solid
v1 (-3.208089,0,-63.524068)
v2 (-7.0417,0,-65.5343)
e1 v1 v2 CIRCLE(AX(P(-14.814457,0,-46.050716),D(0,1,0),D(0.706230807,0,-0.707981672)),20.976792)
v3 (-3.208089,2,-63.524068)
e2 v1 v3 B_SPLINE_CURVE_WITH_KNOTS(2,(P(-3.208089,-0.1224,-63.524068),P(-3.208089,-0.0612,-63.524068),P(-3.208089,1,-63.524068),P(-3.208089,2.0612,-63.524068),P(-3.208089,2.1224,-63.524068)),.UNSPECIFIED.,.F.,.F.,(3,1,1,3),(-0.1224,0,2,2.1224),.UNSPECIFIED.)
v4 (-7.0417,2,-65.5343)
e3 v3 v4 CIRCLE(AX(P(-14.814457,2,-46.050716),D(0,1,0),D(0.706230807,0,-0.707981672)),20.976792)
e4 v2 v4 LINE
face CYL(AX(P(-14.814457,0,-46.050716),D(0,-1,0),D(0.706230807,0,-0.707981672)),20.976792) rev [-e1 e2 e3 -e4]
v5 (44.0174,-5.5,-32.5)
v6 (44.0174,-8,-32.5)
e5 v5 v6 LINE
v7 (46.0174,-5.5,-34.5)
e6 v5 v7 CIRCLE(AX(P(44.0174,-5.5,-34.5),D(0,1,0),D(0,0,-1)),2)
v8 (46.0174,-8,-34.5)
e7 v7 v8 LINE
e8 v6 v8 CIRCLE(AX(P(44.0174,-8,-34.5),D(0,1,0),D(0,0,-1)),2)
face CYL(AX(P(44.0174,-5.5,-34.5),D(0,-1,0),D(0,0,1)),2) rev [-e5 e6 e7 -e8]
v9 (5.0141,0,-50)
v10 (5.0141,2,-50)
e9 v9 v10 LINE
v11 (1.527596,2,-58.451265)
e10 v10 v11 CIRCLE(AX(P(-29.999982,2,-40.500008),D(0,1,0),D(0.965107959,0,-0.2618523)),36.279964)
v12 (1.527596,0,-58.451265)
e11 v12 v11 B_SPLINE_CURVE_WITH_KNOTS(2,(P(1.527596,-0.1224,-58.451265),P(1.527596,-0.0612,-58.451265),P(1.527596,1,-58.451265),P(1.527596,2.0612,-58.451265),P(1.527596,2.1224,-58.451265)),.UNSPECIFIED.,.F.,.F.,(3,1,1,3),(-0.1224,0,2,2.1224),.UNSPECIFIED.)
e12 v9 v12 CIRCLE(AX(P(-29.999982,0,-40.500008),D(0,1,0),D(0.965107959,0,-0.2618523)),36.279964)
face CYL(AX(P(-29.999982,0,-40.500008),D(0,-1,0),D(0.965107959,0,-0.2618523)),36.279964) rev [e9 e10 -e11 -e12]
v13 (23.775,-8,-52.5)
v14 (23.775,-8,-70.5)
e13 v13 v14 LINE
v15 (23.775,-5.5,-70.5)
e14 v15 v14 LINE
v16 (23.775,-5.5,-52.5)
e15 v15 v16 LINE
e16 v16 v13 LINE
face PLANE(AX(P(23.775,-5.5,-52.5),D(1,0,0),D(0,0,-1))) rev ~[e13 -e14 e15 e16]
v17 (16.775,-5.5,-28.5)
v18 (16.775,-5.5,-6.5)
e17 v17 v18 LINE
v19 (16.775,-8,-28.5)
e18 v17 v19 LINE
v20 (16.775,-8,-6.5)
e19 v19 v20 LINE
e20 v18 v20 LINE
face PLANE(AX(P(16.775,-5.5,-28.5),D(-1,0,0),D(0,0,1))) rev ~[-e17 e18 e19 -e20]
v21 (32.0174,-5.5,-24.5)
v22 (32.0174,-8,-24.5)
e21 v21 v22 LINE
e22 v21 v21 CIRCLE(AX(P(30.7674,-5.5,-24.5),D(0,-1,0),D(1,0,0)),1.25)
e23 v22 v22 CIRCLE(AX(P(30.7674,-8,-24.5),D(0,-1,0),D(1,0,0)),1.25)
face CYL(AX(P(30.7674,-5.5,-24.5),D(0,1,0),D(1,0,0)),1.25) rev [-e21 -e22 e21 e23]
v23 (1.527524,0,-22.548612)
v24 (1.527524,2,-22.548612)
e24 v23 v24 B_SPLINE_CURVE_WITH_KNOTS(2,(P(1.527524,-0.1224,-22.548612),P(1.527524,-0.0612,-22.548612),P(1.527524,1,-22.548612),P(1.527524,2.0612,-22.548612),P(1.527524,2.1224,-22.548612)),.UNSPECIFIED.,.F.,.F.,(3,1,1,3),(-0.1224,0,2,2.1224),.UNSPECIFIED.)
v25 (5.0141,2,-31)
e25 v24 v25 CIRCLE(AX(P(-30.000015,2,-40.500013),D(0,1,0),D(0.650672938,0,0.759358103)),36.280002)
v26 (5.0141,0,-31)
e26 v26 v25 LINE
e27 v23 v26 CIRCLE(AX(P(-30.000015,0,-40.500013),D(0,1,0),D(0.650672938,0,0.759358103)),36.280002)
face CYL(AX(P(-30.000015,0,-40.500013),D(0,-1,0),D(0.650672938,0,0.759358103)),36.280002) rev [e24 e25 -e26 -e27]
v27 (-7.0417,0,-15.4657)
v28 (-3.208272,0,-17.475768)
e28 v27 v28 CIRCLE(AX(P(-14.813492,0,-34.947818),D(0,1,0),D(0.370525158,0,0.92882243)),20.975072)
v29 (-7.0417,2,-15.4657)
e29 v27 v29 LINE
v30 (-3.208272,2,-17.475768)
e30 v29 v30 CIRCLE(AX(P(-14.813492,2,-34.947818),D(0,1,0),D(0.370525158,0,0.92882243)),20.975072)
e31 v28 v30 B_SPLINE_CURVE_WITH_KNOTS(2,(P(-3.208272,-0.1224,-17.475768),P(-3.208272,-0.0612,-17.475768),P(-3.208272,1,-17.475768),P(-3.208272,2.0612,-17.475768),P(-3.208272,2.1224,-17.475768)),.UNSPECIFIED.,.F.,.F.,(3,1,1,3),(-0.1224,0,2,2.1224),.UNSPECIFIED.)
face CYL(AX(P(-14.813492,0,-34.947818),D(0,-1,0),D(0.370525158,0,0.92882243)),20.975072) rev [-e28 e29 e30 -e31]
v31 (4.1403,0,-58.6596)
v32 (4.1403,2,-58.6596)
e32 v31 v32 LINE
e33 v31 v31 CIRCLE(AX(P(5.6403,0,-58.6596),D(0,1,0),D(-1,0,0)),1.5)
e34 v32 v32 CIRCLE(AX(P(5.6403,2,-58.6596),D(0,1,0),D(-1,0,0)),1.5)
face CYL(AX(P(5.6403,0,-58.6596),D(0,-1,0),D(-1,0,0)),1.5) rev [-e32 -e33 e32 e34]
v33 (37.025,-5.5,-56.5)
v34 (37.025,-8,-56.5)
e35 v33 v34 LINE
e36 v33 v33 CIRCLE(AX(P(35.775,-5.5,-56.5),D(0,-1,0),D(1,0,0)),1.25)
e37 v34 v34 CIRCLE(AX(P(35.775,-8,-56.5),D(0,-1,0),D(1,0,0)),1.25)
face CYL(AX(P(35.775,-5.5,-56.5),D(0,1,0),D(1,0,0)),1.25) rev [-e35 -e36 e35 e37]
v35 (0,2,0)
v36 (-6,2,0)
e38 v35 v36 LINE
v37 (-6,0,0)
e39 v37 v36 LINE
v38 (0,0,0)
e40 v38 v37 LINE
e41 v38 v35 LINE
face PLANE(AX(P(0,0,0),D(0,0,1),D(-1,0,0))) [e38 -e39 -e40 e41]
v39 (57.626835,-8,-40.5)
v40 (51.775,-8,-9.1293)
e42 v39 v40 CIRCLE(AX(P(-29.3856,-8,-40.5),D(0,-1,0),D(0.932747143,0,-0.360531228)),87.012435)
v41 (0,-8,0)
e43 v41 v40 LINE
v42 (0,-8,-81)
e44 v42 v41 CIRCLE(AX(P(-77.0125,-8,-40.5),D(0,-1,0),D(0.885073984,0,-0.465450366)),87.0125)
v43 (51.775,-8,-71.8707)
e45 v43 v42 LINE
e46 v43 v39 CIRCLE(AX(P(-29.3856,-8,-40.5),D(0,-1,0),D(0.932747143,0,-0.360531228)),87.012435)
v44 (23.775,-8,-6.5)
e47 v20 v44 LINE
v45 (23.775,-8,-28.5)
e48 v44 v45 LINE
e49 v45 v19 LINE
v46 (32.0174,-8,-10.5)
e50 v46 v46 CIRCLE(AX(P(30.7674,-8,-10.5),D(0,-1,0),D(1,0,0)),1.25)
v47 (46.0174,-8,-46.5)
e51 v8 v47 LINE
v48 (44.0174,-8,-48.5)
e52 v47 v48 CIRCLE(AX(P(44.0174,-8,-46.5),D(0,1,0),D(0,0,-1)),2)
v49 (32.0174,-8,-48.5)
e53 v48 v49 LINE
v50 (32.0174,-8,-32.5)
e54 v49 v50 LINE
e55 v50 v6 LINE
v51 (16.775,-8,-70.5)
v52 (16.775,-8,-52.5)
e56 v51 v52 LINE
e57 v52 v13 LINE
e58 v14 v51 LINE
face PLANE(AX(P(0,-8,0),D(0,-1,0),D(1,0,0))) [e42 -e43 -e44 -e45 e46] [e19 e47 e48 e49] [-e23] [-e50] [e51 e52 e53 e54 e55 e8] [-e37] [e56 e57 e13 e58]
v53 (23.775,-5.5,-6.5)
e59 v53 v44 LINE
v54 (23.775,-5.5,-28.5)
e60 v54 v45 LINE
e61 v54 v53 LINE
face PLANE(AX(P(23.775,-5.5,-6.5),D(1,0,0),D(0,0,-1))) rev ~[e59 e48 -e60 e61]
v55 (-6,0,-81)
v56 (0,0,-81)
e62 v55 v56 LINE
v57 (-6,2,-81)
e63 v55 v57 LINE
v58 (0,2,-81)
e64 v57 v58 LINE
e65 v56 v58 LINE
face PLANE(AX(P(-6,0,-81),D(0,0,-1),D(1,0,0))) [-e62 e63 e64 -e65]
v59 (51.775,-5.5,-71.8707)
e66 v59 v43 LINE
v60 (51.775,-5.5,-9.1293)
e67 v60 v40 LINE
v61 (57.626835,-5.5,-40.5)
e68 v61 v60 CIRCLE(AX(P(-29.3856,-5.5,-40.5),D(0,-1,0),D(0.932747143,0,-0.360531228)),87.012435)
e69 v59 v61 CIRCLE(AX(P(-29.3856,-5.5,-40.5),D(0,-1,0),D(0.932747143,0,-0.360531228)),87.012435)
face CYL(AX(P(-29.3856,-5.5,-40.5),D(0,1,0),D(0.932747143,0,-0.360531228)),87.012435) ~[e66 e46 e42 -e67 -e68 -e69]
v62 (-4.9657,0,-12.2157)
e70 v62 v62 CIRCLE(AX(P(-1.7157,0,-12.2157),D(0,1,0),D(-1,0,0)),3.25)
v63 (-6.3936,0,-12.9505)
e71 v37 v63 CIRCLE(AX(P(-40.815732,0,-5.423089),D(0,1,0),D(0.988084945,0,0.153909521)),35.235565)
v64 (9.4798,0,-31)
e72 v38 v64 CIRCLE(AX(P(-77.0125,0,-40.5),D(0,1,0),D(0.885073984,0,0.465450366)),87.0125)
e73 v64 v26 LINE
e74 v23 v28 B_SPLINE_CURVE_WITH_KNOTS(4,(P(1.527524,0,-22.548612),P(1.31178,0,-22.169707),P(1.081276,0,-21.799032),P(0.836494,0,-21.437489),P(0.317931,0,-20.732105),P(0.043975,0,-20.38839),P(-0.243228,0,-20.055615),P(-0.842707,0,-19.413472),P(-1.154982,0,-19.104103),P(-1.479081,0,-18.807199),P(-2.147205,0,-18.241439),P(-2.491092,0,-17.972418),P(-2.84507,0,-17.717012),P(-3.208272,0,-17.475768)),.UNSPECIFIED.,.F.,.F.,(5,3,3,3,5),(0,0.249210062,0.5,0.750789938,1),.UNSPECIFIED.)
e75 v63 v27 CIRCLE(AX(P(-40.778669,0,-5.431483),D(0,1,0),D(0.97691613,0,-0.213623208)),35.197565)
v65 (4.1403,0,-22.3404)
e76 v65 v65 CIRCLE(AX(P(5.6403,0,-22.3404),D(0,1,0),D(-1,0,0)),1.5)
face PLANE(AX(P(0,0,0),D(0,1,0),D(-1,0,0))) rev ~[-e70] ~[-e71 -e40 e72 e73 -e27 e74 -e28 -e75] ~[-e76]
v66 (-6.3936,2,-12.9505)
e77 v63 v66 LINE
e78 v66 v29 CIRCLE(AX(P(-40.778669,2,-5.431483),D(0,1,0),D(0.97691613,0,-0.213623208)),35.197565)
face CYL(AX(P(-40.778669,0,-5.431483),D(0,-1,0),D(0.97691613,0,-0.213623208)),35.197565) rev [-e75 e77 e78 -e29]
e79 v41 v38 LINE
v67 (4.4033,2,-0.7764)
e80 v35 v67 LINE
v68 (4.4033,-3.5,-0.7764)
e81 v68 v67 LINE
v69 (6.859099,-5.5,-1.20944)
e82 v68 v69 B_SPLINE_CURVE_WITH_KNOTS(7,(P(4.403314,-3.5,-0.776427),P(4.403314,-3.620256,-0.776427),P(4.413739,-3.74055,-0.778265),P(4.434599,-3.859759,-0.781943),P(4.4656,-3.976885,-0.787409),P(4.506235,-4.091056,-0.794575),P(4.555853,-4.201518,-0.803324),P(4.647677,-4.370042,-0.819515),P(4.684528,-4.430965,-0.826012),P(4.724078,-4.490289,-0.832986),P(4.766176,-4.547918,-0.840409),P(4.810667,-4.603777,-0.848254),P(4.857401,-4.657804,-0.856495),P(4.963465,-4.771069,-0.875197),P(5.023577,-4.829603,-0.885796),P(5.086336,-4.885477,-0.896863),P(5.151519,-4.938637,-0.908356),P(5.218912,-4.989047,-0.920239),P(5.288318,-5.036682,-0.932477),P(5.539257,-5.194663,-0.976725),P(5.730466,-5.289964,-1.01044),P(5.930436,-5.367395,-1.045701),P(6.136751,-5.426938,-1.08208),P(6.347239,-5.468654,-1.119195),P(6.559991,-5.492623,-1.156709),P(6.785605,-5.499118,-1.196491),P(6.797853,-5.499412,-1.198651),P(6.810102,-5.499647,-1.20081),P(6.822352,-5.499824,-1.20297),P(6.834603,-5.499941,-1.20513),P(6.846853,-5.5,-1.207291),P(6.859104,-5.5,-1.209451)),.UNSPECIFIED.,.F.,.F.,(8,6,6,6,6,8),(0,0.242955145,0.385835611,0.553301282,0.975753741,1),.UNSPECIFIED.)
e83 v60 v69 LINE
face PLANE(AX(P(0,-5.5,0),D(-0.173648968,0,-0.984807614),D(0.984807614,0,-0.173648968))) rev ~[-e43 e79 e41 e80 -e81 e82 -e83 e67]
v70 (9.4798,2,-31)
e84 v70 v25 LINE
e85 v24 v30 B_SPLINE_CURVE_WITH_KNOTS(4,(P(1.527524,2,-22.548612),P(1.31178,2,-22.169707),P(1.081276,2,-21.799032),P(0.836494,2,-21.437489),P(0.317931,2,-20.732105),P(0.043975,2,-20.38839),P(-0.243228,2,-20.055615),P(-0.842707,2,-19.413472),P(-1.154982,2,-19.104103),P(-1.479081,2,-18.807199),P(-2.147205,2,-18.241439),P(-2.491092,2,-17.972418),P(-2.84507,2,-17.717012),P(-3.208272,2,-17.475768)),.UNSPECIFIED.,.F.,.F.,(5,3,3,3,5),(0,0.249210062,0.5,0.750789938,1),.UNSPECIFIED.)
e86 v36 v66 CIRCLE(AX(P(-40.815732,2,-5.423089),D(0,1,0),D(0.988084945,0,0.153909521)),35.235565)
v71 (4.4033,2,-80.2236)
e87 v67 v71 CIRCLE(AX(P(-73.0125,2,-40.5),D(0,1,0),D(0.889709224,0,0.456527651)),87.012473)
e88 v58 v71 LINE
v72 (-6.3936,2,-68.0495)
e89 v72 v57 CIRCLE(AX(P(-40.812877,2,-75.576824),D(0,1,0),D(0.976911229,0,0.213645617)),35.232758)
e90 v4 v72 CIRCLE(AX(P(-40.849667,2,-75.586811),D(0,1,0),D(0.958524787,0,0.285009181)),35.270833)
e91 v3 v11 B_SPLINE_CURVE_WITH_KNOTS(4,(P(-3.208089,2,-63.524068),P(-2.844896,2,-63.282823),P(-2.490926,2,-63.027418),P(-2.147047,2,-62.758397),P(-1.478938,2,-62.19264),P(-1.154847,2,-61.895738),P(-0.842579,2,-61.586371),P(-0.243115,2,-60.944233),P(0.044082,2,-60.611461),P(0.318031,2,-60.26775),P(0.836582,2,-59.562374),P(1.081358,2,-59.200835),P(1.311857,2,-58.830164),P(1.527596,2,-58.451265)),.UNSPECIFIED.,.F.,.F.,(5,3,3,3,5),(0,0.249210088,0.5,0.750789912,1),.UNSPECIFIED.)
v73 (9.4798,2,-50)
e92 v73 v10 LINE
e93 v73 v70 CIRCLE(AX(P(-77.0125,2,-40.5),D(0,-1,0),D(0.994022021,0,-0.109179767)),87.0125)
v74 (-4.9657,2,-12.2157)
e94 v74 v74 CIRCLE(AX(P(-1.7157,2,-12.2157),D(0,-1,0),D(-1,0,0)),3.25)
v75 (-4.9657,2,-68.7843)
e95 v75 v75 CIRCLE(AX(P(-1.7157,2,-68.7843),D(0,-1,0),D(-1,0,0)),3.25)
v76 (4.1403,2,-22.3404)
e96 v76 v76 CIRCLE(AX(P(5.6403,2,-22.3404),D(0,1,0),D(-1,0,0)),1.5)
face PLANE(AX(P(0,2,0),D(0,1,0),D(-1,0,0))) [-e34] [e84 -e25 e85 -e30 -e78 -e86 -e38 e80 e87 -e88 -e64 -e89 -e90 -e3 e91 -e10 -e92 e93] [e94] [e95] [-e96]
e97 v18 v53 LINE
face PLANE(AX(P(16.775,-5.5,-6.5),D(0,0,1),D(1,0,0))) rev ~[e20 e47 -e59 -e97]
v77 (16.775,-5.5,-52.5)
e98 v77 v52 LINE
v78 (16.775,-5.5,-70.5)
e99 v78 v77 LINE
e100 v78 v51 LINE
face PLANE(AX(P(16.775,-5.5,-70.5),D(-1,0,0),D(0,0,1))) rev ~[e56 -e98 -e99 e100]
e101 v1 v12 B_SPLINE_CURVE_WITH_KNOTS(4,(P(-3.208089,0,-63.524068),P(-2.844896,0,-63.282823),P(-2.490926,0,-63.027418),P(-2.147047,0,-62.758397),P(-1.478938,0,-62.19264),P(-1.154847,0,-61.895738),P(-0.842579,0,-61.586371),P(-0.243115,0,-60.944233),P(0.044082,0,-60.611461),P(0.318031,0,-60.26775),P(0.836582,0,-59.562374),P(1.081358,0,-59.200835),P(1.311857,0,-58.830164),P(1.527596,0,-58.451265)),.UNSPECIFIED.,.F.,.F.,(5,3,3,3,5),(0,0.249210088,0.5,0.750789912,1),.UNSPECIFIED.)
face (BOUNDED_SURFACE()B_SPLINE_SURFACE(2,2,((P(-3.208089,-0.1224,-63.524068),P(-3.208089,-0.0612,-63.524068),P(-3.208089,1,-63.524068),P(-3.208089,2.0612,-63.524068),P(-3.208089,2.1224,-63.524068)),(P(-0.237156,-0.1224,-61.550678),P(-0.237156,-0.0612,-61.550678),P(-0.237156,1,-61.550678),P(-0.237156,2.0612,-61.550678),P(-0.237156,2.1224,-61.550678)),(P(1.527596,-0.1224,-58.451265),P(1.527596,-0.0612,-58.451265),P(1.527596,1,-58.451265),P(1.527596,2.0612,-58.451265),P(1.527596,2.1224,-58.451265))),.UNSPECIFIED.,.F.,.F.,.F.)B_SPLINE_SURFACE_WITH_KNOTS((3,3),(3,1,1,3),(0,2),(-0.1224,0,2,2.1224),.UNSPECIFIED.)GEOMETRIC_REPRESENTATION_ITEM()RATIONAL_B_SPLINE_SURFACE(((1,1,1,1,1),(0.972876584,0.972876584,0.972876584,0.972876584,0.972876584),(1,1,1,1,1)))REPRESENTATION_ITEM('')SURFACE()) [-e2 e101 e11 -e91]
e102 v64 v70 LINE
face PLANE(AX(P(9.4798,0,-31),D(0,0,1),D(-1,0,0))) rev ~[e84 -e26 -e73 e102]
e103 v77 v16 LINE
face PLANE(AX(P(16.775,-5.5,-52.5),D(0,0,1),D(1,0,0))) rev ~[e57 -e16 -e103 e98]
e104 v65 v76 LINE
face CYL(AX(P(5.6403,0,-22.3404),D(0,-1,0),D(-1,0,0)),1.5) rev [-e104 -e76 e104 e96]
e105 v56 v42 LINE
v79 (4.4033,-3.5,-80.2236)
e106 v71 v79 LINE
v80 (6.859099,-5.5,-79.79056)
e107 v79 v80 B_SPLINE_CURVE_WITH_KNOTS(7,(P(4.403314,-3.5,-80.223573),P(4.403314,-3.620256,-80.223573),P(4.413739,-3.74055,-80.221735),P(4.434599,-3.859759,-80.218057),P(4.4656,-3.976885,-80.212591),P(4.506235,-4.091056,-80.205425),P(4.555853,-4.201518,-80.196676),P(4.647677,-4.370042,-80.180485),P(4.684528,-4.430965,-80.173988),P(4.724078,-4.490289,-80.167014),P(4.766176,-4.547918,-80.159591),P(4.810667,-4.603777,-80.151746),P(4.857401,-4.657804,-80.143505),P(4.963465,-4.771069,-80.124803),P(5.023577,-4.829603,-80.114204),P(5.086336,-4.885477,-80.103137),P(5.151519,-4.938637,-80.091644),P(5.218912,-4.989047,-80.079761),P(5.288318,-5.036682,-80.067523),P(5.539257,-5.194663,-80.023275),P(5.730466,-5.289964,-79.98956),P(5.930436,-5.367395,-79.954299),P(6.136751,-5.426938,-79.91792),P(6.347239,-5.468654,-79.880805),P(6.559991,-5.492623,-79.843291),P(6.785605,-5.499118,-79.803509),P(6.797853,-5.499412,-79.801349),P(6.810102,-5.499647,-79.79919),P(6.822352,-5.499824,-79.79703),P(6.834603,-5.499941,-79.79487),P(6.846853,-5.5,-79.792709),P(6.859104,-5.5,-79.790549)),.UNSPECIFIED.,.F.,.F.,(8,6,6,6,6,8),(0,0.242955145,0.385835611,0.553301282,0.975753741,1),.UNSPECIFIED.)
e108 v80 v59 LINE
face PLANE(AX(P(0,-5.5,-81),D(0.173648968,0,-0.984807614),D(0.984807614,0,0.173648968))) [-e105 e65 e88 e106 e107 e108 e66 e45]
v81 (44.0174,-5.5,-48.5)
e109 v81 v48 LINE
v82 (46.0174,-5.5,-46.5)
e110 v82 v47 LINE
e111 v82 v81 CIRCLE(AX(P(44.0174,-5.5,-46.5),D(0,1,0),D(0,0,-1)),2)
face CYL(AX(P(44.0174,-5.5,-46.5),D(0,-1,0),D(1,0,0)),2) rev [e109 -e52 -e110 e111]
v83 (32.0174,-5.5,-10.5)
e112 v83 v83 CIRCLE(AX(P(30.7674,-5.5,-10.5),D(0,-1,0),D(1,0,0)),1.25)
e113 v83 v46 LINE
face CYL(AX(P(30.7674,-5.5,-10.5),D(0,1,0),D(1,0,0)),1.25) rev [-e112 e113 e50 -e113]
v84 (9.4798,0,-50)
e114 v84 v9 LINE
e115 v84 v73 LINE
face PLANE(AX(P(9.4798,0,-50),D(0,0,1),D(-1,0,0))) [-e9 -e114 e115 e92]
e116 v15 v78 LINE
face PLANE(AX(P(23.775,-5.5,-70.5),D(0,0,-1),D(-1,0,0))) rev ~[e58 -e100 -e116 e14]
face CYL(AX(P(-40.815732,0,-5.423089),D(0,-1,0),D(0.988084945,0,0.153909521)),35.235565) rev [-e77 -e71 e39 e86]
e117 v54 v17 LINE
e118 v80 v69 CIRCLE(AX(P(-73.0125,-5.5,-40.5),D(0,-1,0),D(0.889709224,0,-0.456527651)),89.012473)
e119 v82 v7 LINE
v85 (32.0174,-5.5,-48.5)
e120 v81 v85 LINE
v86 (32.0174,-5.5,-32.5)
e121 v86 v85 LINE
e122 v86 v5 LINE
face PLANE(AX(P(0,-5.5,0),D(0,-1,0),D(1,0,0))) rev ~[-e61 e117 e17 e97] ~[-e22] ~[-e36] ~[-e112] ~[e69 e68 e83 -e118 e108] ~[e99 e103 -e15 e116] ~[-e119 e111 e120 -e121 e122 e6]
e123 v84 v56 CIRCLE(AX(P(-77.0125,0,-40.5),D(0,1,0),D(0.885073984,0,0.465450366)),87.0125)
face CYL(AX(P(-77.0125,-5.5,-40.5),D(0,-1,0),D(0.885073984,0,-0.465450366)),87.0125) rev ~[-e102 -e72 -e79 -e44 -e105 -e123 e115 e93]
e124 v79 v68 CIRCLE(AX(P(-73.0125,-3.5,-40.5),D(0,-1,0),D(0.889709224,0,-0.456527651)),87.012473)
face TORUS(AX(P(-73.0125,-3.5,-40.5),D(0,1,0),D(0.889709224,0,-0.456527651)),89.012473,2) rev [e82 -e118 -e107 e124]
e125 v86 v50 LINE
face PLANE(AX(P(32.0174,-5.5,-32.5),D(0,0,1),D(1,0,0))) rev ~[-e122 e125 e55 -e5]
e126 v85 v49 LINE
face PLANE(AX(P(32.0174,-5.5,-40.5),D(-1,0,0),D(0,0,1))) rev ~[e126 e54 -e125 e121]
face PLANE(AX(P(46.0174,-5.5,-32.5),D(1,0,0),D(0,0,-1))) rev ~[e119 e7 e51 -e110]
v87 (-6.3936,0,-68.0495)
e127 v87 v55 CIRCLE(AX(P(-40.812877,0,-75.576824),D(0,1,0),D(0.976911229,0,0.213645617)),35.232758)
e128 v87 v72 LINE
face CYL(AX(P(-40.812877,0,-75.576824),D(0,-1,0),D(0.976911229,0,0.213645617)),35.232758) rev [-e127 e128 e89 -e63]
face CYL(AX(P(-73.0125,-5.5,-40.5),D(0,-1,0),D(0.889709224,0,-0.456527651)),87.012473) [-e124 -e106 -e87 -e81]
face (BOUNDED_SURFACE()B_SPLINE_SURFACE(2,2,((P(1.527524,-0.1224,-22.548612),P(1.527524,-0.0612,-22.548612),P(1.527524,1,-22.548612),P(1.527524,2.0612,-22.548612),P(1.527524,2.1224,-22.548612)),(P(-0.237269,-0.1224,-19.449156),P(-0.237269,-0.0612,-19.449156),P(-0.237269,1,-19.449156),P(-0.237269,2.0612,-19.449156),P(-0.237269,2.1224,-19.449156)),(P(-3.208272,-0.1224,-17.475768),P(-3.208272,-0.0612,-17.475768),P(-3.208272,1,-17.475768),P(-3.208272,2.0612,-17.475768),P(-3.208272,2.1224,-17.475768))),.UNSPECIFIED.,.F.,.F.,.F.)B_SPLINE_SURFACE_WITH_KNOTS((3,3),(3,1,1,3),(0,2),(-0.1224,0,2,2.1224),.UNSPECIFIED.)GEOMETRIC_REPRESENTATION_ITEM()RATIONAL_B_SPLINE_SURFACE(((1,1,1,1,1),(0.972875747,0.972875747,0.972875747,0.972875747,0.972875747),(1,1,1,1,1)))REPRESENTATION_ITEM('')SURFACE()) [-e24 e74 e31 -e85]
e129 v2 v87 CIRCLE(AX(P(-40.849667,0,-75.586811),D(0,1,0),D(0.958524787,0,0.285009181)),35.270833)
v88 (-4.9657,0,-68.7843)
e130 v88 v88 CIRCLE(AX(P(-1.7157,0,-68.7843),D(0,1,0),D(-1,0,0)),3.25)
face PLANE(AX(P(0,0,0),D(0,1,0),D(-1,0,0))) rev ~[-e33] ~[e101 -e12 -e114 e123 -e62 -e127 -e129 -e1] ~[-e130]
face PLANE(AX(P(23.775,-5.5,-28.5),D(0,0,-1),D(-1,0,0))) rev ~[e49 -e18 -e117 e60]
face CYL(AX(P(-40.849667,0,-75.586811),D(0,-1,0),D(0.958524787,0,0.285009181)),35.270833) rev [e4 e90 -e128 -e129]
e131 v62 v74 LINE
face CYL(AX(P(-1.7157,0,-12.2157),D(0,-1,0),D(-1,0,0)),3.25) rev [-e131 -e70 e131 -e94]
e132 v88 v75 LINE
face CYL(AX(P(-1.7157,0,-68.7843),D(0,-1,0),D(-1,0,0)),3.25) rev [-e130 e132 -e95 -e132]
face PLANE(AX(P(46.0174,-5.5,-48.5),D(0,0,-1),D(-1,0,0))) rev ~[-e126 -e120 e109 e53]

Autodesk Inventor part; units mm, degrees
ref_plane "YZ Plane" through (0, 0, 0) normal (1, 0, 0) x (0, 1, 0)
ref_plane "XZ Plane" through (0, 0, 0) normal (0, 1, 0) x (-1, 0, 0)
ref_plane "XY Plane" through (0, 0, 0) normal (0, 0, 1) x (1, 0, 0)
sketch "Sketch1" plane through (0, 0, 0) normal (0, 1, 0) x (-1, 0, 0)
  line L0 (0, 0) -> (60, 0)
  line L1 (60, 0) -> (60, -81)
  line L2 (60, -81) -> (0, -81)
  line L3 (0, -81) -> (0, 0)
  line L4 (45, -21.6284) -> (15, -21.6284) construction
  line L5 (45, -81) -> (45, 0) construction
  line L6 (15, 0) -> (15, -81) construction
  circle A0 centre (40, -73.5) radius 1.5
  circle A1 centre (40, -7.5) radius 1.5
  circle A2 centre (20, -7.5) radius 1.5
  circle A3 centre (20, -73.5) radius 1.5
  line L7 (60, -40.5) -> (0, -40.5) construction
  line L8 (30, 0) -> (30, -81) construction
  circle A4 centre (30, -40.5) radius 24
  circle A5 centre (30, -40.5) radius 27.5
  circle A6 centre (57.1293, -36) radius 1.5
  circle A7 centre (57.1293, -45) radius 1.5
  circle A8 centre (25.5, -13.3707) radius 1.5
  circle A9 centre (34.5, -13.3707) radius 1.5
  circle A10 centre (2.8707, -45) radius 1.5
  circle A11 centre (2.8707, -36) radius 1.5
  circle A12 centre (34.5, -67.6293) radius 1.5
  circle A13 centre (25.5, -67.6293) radius 1.5
  circle A14 centre (30, -40.5) radius 40 construction
  arc A15 (60, -81) -> (60, 0) centre (-17.0125, -40.5) ccw
  circle A16 centre (30, -40.5) radius 36.28 construction
  circle A17 centre (65.9998, -36) radius 1.5
  circle A18 centre (65.9998, -45) radius 1.5
  circle A19 centre (-5.9998, -45) radius 1.5
  circle A20 centre (-5.9998, -36) radius 1.5
  arc A21 (0, 0) -> (0, -81) centre (77.0125, -40.5) ccw
  line L9 (30, -40.5) -> (-3.3536, -73.8536) construction
  circle A22 centre (1.7157, -68.7843) radius 1.5
  circle A23 centre (11.8404, -76.1403) radius 1.5
  circle A24 centre (23.7426, -80.0075) radius 1.5
  circle A25 centre (36.2574, -80.0075) radius 1.5
  circle A26 centre (48.1596, -76.1403) radius 1.5
  circle A27 centre (58.2843, -68.7843) radius 1.5
  circle A28 centre (65.6403, -58.6596) radius 1.5
  circle A29 centre (69.5075, -46.7574) radius 1.5
  circle A30 centre (69.5075, -34.2426) radius 1.5
  circle A31 centre (65.6403, -22.3404) radius 1.5
  circle A32 centre (58.2843, -12.2157) radius 1.5
  circle A33 centre (48.1596, -4.8597) radius 1.5
  circle A34 centre (36.2574, -0.9925) radius 1.5
  circle A35 centre (23.7426, -0.9925) radius 1.5
  circle A36 centre (11.8404, -4.8597) radius 1.5
  circle A37 centre (1.7157, -12.2157) radius 1.5
  circle A38 centre (-5.6403, -22.3404) radius 1.5
  circle A39 centre (-9.5075, -34.2426) radius 1.5
  circle A40 centre (-9.5075, -46.7574) radius 1.5
  circle A41 centre (-5.6403, -58.6596) radius 1.5
  circle A42 centre (48.1596, -68.7843) radius 1.5
  circle A43 centre (48.1596, -12.2157) radius 1.5
  circle A44 centre (11.8404, -12.2157) radius 1.5
  circle A45 centre (11.8404, -68.7843) radius 1.5
  line L10 (0, 0) -> (6, 0)
  arc A46 (6, 0) -> (6.3936, -12.9505) centre (40.8143, -5.423) ccw
  arc A47 (6.3936, -12.9505) -> (-5.0141, -31) centre (30, -40.5) ccw
  line L11 (-9.4798, -31) -> (7.9603, -31)
  line L12 (-10, -40.5) -> (70, -40.5) construction
  line L13 (-18.775, -8.5) -> (-32.775, -8.5)
  line L14 (-32.775, -8.5) -> (-32.775, -26.5)
  line L15 (-32.775, -26.5) -> (-18.775, -26.5)
  line L16 (-18.775, -26.5) -> (-18.775, -8.5)
  line L17 (-18.775, -54.5) -> (-37.775, -54.5)
  line L18 (-37.775, -54.5) -> (-37.775, -68.5)
  line L19 (-37.775, -68.5) -> (-18.775, -68.5)
  line L20 (-18.775, -68.5) -> (-18.775, -54.5)
  line L21 (-17.0125, -40.5) -> (-69.0232, -40.5)
  line L22 (-16.775, -6.5) -> (-23.775, -6.5)
  line L23 (-23.775, -6.5) -> (-23.775, -28.5)
  line L24 (-23.775, -28.5) -> (-16.775, -28.5)
  line L25 (-16.775, -28.5) -> (-16.775, -6.5)
  line L26 (-16.775, -52.5) -> (-23.775, -52.5)
  line L27 (-23.775, -52.5) -> (-23.775, -70.5)
  line L28 (-23.775, -70.5) -> (-16.775, -70.5)
  line L29 (-16.775, -70.5) -> (-16.775, -52.5)
  circle A48 centre (-30.7674, -10.5) radius 1.25
  circle A49 centre (-30.7674, -24.5) radius 1.25
  circle A50 centre (-35.775, -56.5) radius 1.25
  line L30 (-16.775, -32.5) -> (-49.775, -32.5)
  line L31 (-51.775, -34.5) -> (-51.775, -46.5)
  line L32 (-49.775, -48.5) -> (-16.775, -48.5)
  line L33 (-16.775, -48.5) -> (-16.775, -32.5)
  line L34 (-16.775, -43.5) -> (-38.775, -43.5) construction
  line L35 (-32.0174, -32.5) -> (-46.0174, -32.5)
  line L36 (-46.0174, -32.5) -> (-46.0174, -48.5)
  line L37 (-46.0174, -48.5) -> (-32.0174, -48.5)
  line L38 (-32.0174, -48.5) -> (-32.0174, -32.5)
  line L39 (0, 0) -> (-59.1614, -10.4318)
  line L40 (0, -81) -> (-59.1614, -70.5682)
  arc A51 (-51.775, -9.1293) -> (-51.775, -71.8707) centre (29.3856, -40.5) ccw
  arc A52 (-49.775, -32.5) -> (-51.775, -34.5) centre (-49.775, -34.5) ccw
  arc A53 (-51.775, -46.5) -> (-49.775, -48.5) centre (-49.775, -46.5) ccw
  arc A54 (6.3936, -68.0495) -> (6, -81) centre (40.8143, -75.577) ccw
  arc A55 (-5.0141, -50) -> (6.3936, -68.0495) centre (30, -40.5) ccw
  line L41 (-9.4798, -50) -> (7.9603, -50)
  arc A56 (-4.4033, -0.7764) -> (-4.4033, -80.2236) centre (73.0125, -40.5) ccw
  circle A57 centre (1.7157, -12.2157) radius 3.25
  circle A58 centre (1.7157, -68.7843) radius 3.25
  arc A59 (6.3936, -12.9505) -> (7.0417, -15.4657) centre (40.8143, -5.423) ccw
  arc A60 (7.0417, -15.4657) -> (0, -20.0981) centre (14.8139, -34.9486) ccw
  arc A61 (7.0417, -65.5343) -> (6.3936, -68.0495) centre (40.8143, -75.577) ccw
  arc A62 (0, -60.9019) -> (7.0417, -65.5343) centre (14.8139, -46.0514) ccw
  point P0 (30, -21.6284)
  point P1 (-18.775, -17.5)
  point P2 (-18.775, -61.5)
  point P3 (-51.775, -48.5)
  point P4 (-51.775, -32.5)
  point P5 (-16.775, -40.5)
  point P6 (-16.775, -61.5)
  point P7 (-51.775, -40.5)
  point P8 (-14, -40.5)
  point P9 (6, -81)
  point P10 (0, -60.9019)
  dimension "d18" = 48
  dimension "d6" = 60
  dimension "d7" = 81
  dimension "d8" = 3
  dimension "d9" = 7.5
  dimension "d10" = 5
  dimension "d11" = 30
  dimension "d12" = 3
  dimension "d13" = 7.5
  dimension "d14" = 5
  dimension "d15" = 3
  dimension "d16" = 3
  dimension "d17" = 5
  dimension "d19" = 55
  dimension "d20" = 3
  dimension "d21" = 4.5
  dimension "d22" = 3
  dimension "d23" = 4.5
  dimension "d24" = 360
  dimension "d25" = 80
  dimension "d26" = 72.56
  dimension "d27" = 3
  dimension "d28" = 3
  dimension "d29" = 360
  dimension "d30" = 45
  dimension "d31" = 3
  dimension "d32" = 360
  dimension "d33" = 3
  dimension "d34" = 3
  dimension "d35" = 3
  dimension "d36" = 3
  dimension "d37" = 6
  dimension "d38" = 5
  dimension "d39" = 30
  dimension "d40" = 40.5
  dimension "d41" = 14
  dimension "d42" = 18
  dimension "d43" = 19
  dimension "d44" = 14
  dimension "d45" = 7
  dimension "d46" = 2
  dimension "d47" = 2
  dimension "d48" = 2
  dimension "d49" = 2
  dimension "d50" = 2
  dimension "d51" = 2
  dimension "d52" = 7
  dimension "d53" = 2.5
  dimension "d54" = 2.5
  dimension "d55" = 2
  dimension "d56" = 2
  dimension "d57" = 2.5
  dimension "d58" = 2
  dimension "d59" = 2
  dimension "d60" = 35
  dimension "d61" = 16
  dimension "d62" = 4
  dimension "d63" = 4
  dimension "d64" = 22
  dimension "d65" = 14
  dimension "d66" = 80
  dimension "d67" = 80
  dimension "d68" = 2
  dimension "d69" = 4
  dimension "d78" = 6.5
extrude "Extrusion1" add sketch "Sketch1" along normal blind 2 contours L0 A46 A47 L3 A57 | L3 A57 A47 L11 A21 | A21 A39 A40 L40 A56 L39 | A59 A60 A47 | A21 A39 | L3 A58 A55 A54 L2 | A21 L41 A55 L3 A58 | A21 A40 | A62 A61 A55 picked at (-10.1825, -34.1938) picked at (-10.1825, -46.8062)
extrude "Extrusion2" add sketch "Sketch1" against normal blind 4 contours A21 A39 A40 L40 A56 L39 | A21 A39 | A21 A40 picked at (-10.1825, -34.1938) picked at (-10.1825, -46.8062)
ref_plane "Work Plane1" through (0, -5.5, 0) normal (0, -1, 0) x (1, 0, 0)
sketch "Sketch2" plane through (0, -5.5, 0) normal (0, -1, 0) x (1, 0, 0)
  line L0 (0, -81) -> (59.1614, -70.5682) projected
  arc A0 (51.775, -71.8707) -> (51.775, -9.1293) centre (-29.3856, -40.5) ccw projected
  line L1 (49.775, -48.5) -> (16.775, -48.5) projected
  arc A1 (49.775, -48.5) -> (51.775, -46.5) centre (49.775, -46.5) ccw projected
  line L2 (51.775, -34.5) -> (51.775, -46.5) projected
  arc A2 (51.775, -34.5) -> (49.775, -32.5) centre (49.775, -34.5) ccw projected
  line L3 (16.775, -32.5) -> (49.775, -32.5) projected
  line L4 (46.0174, -32.5) -> (46.0174, -48.5) projected
  line L5 (32.0174, -48.5) -> (32.0174, -32.5) projected
  line L6 (16.775, -48.5) -> (16.775, -32.5) projected
  arc A3 (4.4033, -80.2236) -> (4.4033, -0.7764) centre (-73.0125, -40.5) ccw projected
  arc A4 (0, -81) -> (0, 0) centre (-77.0125, -40.5) ccw projected
  line L7 (37.775, -68.5) -> (18.775, -68.5) projected
  line L8 (37.775, -54.5) -> (37.775, -68.5) projected
  line L9 (18.775, -54.5) -> (37.775, -54.5) projected
  circle A5 centre (35.775, -56.5) radius 1.25 projected
  line L10 (23.775, -52.5) -> (23.775, -70.5) projected
  line L11 (23.775, -70.5) -> (16.775, -70.5) projected
  line L12 (16.775, -70.5) -> (16.775, -52.5) projected
  line L13 (18.775, -68.5) -> (18.775, -54.5) projected
  line L14 (16.775, -52.5) -> (23.775, -52.5) projected
  line L15 (32.775, -26.5) -> (18.775, -26.5) projected
  circle A6 centre (30.7674, -24.5) radius 1.25 projected
  line L16 (32.775, -8.5) -> (32.775, -26.5) projected
  circle A7 centre (30.7674, -10.5) radius 1.25 projected
  line L17 (18.775, -8.5) -> (32.775, -8.5) projected
  line L18 (0, 0) -> (59.1614, -10.4318) projected
  line L19 (23.775, -6.5) -> (23.775, -28.5) projected
  line L20 (16.775, -6.5) -> (23.775, -6.5) projected
  line L21 (16.775, -28.5) -> (16.775, -6.5) projected
  line L22 (18.775, -26.5) -> (18.775, -8.5) projected
  line L23 (23.775, -28.5) -> (16.775, -28.5) projected
  line L24 (17.0125, -40.5) -> (69.0232, -40.5) projected
  point P0 (23.775, -26.5)
  point P1 (23.775, -8.5)
  point P2 (23.775, -68.5)
  point P3 (23.775, -54.5)
extrude "Extrusion3" add sketch "Sketch2" along normal blind 2.5 contours A4 L18 A3 L0 | L2 A1 L1 L4 L24 | L24 L4 L3 A2 L2 | A3 L18 A0 L0 | L5 L1 L6 L3 | L7 L10 L9 L8 | L15 L19 L17 L16
extrude "Extrusion4" add sketch "Sketch2" against normal up to surface (1.5 mm away) contours A4 L18 A3 L0
fillet "Fillet1" radius 2 3 edges at (46.0174, -6.75, -32.5) (46.0174, -6.75, -48.5) (14, -5.5, -40.5)
fillet "Fillet2" radius 15 2 edges at (0, 1, -20.0981) (0, 1, -60.9019)
equation "\"d11\" = 0.5 * d6"
equation "\"d12\" = d8"
equation "\"d15\" = d8"
equation "\"d16\" = d8"
equation "\"d22\" = d8"
equation "\"d27\" = d8"
equation "\"d28\" = d8"
equation "\"d31\" = d8"
equation "\"d33\" = d8"
equation "\"d34\" = d8"
equation "\"d35\" = d8"
equation "\"d36\" = d8"
properties part number "SensorHolder"
